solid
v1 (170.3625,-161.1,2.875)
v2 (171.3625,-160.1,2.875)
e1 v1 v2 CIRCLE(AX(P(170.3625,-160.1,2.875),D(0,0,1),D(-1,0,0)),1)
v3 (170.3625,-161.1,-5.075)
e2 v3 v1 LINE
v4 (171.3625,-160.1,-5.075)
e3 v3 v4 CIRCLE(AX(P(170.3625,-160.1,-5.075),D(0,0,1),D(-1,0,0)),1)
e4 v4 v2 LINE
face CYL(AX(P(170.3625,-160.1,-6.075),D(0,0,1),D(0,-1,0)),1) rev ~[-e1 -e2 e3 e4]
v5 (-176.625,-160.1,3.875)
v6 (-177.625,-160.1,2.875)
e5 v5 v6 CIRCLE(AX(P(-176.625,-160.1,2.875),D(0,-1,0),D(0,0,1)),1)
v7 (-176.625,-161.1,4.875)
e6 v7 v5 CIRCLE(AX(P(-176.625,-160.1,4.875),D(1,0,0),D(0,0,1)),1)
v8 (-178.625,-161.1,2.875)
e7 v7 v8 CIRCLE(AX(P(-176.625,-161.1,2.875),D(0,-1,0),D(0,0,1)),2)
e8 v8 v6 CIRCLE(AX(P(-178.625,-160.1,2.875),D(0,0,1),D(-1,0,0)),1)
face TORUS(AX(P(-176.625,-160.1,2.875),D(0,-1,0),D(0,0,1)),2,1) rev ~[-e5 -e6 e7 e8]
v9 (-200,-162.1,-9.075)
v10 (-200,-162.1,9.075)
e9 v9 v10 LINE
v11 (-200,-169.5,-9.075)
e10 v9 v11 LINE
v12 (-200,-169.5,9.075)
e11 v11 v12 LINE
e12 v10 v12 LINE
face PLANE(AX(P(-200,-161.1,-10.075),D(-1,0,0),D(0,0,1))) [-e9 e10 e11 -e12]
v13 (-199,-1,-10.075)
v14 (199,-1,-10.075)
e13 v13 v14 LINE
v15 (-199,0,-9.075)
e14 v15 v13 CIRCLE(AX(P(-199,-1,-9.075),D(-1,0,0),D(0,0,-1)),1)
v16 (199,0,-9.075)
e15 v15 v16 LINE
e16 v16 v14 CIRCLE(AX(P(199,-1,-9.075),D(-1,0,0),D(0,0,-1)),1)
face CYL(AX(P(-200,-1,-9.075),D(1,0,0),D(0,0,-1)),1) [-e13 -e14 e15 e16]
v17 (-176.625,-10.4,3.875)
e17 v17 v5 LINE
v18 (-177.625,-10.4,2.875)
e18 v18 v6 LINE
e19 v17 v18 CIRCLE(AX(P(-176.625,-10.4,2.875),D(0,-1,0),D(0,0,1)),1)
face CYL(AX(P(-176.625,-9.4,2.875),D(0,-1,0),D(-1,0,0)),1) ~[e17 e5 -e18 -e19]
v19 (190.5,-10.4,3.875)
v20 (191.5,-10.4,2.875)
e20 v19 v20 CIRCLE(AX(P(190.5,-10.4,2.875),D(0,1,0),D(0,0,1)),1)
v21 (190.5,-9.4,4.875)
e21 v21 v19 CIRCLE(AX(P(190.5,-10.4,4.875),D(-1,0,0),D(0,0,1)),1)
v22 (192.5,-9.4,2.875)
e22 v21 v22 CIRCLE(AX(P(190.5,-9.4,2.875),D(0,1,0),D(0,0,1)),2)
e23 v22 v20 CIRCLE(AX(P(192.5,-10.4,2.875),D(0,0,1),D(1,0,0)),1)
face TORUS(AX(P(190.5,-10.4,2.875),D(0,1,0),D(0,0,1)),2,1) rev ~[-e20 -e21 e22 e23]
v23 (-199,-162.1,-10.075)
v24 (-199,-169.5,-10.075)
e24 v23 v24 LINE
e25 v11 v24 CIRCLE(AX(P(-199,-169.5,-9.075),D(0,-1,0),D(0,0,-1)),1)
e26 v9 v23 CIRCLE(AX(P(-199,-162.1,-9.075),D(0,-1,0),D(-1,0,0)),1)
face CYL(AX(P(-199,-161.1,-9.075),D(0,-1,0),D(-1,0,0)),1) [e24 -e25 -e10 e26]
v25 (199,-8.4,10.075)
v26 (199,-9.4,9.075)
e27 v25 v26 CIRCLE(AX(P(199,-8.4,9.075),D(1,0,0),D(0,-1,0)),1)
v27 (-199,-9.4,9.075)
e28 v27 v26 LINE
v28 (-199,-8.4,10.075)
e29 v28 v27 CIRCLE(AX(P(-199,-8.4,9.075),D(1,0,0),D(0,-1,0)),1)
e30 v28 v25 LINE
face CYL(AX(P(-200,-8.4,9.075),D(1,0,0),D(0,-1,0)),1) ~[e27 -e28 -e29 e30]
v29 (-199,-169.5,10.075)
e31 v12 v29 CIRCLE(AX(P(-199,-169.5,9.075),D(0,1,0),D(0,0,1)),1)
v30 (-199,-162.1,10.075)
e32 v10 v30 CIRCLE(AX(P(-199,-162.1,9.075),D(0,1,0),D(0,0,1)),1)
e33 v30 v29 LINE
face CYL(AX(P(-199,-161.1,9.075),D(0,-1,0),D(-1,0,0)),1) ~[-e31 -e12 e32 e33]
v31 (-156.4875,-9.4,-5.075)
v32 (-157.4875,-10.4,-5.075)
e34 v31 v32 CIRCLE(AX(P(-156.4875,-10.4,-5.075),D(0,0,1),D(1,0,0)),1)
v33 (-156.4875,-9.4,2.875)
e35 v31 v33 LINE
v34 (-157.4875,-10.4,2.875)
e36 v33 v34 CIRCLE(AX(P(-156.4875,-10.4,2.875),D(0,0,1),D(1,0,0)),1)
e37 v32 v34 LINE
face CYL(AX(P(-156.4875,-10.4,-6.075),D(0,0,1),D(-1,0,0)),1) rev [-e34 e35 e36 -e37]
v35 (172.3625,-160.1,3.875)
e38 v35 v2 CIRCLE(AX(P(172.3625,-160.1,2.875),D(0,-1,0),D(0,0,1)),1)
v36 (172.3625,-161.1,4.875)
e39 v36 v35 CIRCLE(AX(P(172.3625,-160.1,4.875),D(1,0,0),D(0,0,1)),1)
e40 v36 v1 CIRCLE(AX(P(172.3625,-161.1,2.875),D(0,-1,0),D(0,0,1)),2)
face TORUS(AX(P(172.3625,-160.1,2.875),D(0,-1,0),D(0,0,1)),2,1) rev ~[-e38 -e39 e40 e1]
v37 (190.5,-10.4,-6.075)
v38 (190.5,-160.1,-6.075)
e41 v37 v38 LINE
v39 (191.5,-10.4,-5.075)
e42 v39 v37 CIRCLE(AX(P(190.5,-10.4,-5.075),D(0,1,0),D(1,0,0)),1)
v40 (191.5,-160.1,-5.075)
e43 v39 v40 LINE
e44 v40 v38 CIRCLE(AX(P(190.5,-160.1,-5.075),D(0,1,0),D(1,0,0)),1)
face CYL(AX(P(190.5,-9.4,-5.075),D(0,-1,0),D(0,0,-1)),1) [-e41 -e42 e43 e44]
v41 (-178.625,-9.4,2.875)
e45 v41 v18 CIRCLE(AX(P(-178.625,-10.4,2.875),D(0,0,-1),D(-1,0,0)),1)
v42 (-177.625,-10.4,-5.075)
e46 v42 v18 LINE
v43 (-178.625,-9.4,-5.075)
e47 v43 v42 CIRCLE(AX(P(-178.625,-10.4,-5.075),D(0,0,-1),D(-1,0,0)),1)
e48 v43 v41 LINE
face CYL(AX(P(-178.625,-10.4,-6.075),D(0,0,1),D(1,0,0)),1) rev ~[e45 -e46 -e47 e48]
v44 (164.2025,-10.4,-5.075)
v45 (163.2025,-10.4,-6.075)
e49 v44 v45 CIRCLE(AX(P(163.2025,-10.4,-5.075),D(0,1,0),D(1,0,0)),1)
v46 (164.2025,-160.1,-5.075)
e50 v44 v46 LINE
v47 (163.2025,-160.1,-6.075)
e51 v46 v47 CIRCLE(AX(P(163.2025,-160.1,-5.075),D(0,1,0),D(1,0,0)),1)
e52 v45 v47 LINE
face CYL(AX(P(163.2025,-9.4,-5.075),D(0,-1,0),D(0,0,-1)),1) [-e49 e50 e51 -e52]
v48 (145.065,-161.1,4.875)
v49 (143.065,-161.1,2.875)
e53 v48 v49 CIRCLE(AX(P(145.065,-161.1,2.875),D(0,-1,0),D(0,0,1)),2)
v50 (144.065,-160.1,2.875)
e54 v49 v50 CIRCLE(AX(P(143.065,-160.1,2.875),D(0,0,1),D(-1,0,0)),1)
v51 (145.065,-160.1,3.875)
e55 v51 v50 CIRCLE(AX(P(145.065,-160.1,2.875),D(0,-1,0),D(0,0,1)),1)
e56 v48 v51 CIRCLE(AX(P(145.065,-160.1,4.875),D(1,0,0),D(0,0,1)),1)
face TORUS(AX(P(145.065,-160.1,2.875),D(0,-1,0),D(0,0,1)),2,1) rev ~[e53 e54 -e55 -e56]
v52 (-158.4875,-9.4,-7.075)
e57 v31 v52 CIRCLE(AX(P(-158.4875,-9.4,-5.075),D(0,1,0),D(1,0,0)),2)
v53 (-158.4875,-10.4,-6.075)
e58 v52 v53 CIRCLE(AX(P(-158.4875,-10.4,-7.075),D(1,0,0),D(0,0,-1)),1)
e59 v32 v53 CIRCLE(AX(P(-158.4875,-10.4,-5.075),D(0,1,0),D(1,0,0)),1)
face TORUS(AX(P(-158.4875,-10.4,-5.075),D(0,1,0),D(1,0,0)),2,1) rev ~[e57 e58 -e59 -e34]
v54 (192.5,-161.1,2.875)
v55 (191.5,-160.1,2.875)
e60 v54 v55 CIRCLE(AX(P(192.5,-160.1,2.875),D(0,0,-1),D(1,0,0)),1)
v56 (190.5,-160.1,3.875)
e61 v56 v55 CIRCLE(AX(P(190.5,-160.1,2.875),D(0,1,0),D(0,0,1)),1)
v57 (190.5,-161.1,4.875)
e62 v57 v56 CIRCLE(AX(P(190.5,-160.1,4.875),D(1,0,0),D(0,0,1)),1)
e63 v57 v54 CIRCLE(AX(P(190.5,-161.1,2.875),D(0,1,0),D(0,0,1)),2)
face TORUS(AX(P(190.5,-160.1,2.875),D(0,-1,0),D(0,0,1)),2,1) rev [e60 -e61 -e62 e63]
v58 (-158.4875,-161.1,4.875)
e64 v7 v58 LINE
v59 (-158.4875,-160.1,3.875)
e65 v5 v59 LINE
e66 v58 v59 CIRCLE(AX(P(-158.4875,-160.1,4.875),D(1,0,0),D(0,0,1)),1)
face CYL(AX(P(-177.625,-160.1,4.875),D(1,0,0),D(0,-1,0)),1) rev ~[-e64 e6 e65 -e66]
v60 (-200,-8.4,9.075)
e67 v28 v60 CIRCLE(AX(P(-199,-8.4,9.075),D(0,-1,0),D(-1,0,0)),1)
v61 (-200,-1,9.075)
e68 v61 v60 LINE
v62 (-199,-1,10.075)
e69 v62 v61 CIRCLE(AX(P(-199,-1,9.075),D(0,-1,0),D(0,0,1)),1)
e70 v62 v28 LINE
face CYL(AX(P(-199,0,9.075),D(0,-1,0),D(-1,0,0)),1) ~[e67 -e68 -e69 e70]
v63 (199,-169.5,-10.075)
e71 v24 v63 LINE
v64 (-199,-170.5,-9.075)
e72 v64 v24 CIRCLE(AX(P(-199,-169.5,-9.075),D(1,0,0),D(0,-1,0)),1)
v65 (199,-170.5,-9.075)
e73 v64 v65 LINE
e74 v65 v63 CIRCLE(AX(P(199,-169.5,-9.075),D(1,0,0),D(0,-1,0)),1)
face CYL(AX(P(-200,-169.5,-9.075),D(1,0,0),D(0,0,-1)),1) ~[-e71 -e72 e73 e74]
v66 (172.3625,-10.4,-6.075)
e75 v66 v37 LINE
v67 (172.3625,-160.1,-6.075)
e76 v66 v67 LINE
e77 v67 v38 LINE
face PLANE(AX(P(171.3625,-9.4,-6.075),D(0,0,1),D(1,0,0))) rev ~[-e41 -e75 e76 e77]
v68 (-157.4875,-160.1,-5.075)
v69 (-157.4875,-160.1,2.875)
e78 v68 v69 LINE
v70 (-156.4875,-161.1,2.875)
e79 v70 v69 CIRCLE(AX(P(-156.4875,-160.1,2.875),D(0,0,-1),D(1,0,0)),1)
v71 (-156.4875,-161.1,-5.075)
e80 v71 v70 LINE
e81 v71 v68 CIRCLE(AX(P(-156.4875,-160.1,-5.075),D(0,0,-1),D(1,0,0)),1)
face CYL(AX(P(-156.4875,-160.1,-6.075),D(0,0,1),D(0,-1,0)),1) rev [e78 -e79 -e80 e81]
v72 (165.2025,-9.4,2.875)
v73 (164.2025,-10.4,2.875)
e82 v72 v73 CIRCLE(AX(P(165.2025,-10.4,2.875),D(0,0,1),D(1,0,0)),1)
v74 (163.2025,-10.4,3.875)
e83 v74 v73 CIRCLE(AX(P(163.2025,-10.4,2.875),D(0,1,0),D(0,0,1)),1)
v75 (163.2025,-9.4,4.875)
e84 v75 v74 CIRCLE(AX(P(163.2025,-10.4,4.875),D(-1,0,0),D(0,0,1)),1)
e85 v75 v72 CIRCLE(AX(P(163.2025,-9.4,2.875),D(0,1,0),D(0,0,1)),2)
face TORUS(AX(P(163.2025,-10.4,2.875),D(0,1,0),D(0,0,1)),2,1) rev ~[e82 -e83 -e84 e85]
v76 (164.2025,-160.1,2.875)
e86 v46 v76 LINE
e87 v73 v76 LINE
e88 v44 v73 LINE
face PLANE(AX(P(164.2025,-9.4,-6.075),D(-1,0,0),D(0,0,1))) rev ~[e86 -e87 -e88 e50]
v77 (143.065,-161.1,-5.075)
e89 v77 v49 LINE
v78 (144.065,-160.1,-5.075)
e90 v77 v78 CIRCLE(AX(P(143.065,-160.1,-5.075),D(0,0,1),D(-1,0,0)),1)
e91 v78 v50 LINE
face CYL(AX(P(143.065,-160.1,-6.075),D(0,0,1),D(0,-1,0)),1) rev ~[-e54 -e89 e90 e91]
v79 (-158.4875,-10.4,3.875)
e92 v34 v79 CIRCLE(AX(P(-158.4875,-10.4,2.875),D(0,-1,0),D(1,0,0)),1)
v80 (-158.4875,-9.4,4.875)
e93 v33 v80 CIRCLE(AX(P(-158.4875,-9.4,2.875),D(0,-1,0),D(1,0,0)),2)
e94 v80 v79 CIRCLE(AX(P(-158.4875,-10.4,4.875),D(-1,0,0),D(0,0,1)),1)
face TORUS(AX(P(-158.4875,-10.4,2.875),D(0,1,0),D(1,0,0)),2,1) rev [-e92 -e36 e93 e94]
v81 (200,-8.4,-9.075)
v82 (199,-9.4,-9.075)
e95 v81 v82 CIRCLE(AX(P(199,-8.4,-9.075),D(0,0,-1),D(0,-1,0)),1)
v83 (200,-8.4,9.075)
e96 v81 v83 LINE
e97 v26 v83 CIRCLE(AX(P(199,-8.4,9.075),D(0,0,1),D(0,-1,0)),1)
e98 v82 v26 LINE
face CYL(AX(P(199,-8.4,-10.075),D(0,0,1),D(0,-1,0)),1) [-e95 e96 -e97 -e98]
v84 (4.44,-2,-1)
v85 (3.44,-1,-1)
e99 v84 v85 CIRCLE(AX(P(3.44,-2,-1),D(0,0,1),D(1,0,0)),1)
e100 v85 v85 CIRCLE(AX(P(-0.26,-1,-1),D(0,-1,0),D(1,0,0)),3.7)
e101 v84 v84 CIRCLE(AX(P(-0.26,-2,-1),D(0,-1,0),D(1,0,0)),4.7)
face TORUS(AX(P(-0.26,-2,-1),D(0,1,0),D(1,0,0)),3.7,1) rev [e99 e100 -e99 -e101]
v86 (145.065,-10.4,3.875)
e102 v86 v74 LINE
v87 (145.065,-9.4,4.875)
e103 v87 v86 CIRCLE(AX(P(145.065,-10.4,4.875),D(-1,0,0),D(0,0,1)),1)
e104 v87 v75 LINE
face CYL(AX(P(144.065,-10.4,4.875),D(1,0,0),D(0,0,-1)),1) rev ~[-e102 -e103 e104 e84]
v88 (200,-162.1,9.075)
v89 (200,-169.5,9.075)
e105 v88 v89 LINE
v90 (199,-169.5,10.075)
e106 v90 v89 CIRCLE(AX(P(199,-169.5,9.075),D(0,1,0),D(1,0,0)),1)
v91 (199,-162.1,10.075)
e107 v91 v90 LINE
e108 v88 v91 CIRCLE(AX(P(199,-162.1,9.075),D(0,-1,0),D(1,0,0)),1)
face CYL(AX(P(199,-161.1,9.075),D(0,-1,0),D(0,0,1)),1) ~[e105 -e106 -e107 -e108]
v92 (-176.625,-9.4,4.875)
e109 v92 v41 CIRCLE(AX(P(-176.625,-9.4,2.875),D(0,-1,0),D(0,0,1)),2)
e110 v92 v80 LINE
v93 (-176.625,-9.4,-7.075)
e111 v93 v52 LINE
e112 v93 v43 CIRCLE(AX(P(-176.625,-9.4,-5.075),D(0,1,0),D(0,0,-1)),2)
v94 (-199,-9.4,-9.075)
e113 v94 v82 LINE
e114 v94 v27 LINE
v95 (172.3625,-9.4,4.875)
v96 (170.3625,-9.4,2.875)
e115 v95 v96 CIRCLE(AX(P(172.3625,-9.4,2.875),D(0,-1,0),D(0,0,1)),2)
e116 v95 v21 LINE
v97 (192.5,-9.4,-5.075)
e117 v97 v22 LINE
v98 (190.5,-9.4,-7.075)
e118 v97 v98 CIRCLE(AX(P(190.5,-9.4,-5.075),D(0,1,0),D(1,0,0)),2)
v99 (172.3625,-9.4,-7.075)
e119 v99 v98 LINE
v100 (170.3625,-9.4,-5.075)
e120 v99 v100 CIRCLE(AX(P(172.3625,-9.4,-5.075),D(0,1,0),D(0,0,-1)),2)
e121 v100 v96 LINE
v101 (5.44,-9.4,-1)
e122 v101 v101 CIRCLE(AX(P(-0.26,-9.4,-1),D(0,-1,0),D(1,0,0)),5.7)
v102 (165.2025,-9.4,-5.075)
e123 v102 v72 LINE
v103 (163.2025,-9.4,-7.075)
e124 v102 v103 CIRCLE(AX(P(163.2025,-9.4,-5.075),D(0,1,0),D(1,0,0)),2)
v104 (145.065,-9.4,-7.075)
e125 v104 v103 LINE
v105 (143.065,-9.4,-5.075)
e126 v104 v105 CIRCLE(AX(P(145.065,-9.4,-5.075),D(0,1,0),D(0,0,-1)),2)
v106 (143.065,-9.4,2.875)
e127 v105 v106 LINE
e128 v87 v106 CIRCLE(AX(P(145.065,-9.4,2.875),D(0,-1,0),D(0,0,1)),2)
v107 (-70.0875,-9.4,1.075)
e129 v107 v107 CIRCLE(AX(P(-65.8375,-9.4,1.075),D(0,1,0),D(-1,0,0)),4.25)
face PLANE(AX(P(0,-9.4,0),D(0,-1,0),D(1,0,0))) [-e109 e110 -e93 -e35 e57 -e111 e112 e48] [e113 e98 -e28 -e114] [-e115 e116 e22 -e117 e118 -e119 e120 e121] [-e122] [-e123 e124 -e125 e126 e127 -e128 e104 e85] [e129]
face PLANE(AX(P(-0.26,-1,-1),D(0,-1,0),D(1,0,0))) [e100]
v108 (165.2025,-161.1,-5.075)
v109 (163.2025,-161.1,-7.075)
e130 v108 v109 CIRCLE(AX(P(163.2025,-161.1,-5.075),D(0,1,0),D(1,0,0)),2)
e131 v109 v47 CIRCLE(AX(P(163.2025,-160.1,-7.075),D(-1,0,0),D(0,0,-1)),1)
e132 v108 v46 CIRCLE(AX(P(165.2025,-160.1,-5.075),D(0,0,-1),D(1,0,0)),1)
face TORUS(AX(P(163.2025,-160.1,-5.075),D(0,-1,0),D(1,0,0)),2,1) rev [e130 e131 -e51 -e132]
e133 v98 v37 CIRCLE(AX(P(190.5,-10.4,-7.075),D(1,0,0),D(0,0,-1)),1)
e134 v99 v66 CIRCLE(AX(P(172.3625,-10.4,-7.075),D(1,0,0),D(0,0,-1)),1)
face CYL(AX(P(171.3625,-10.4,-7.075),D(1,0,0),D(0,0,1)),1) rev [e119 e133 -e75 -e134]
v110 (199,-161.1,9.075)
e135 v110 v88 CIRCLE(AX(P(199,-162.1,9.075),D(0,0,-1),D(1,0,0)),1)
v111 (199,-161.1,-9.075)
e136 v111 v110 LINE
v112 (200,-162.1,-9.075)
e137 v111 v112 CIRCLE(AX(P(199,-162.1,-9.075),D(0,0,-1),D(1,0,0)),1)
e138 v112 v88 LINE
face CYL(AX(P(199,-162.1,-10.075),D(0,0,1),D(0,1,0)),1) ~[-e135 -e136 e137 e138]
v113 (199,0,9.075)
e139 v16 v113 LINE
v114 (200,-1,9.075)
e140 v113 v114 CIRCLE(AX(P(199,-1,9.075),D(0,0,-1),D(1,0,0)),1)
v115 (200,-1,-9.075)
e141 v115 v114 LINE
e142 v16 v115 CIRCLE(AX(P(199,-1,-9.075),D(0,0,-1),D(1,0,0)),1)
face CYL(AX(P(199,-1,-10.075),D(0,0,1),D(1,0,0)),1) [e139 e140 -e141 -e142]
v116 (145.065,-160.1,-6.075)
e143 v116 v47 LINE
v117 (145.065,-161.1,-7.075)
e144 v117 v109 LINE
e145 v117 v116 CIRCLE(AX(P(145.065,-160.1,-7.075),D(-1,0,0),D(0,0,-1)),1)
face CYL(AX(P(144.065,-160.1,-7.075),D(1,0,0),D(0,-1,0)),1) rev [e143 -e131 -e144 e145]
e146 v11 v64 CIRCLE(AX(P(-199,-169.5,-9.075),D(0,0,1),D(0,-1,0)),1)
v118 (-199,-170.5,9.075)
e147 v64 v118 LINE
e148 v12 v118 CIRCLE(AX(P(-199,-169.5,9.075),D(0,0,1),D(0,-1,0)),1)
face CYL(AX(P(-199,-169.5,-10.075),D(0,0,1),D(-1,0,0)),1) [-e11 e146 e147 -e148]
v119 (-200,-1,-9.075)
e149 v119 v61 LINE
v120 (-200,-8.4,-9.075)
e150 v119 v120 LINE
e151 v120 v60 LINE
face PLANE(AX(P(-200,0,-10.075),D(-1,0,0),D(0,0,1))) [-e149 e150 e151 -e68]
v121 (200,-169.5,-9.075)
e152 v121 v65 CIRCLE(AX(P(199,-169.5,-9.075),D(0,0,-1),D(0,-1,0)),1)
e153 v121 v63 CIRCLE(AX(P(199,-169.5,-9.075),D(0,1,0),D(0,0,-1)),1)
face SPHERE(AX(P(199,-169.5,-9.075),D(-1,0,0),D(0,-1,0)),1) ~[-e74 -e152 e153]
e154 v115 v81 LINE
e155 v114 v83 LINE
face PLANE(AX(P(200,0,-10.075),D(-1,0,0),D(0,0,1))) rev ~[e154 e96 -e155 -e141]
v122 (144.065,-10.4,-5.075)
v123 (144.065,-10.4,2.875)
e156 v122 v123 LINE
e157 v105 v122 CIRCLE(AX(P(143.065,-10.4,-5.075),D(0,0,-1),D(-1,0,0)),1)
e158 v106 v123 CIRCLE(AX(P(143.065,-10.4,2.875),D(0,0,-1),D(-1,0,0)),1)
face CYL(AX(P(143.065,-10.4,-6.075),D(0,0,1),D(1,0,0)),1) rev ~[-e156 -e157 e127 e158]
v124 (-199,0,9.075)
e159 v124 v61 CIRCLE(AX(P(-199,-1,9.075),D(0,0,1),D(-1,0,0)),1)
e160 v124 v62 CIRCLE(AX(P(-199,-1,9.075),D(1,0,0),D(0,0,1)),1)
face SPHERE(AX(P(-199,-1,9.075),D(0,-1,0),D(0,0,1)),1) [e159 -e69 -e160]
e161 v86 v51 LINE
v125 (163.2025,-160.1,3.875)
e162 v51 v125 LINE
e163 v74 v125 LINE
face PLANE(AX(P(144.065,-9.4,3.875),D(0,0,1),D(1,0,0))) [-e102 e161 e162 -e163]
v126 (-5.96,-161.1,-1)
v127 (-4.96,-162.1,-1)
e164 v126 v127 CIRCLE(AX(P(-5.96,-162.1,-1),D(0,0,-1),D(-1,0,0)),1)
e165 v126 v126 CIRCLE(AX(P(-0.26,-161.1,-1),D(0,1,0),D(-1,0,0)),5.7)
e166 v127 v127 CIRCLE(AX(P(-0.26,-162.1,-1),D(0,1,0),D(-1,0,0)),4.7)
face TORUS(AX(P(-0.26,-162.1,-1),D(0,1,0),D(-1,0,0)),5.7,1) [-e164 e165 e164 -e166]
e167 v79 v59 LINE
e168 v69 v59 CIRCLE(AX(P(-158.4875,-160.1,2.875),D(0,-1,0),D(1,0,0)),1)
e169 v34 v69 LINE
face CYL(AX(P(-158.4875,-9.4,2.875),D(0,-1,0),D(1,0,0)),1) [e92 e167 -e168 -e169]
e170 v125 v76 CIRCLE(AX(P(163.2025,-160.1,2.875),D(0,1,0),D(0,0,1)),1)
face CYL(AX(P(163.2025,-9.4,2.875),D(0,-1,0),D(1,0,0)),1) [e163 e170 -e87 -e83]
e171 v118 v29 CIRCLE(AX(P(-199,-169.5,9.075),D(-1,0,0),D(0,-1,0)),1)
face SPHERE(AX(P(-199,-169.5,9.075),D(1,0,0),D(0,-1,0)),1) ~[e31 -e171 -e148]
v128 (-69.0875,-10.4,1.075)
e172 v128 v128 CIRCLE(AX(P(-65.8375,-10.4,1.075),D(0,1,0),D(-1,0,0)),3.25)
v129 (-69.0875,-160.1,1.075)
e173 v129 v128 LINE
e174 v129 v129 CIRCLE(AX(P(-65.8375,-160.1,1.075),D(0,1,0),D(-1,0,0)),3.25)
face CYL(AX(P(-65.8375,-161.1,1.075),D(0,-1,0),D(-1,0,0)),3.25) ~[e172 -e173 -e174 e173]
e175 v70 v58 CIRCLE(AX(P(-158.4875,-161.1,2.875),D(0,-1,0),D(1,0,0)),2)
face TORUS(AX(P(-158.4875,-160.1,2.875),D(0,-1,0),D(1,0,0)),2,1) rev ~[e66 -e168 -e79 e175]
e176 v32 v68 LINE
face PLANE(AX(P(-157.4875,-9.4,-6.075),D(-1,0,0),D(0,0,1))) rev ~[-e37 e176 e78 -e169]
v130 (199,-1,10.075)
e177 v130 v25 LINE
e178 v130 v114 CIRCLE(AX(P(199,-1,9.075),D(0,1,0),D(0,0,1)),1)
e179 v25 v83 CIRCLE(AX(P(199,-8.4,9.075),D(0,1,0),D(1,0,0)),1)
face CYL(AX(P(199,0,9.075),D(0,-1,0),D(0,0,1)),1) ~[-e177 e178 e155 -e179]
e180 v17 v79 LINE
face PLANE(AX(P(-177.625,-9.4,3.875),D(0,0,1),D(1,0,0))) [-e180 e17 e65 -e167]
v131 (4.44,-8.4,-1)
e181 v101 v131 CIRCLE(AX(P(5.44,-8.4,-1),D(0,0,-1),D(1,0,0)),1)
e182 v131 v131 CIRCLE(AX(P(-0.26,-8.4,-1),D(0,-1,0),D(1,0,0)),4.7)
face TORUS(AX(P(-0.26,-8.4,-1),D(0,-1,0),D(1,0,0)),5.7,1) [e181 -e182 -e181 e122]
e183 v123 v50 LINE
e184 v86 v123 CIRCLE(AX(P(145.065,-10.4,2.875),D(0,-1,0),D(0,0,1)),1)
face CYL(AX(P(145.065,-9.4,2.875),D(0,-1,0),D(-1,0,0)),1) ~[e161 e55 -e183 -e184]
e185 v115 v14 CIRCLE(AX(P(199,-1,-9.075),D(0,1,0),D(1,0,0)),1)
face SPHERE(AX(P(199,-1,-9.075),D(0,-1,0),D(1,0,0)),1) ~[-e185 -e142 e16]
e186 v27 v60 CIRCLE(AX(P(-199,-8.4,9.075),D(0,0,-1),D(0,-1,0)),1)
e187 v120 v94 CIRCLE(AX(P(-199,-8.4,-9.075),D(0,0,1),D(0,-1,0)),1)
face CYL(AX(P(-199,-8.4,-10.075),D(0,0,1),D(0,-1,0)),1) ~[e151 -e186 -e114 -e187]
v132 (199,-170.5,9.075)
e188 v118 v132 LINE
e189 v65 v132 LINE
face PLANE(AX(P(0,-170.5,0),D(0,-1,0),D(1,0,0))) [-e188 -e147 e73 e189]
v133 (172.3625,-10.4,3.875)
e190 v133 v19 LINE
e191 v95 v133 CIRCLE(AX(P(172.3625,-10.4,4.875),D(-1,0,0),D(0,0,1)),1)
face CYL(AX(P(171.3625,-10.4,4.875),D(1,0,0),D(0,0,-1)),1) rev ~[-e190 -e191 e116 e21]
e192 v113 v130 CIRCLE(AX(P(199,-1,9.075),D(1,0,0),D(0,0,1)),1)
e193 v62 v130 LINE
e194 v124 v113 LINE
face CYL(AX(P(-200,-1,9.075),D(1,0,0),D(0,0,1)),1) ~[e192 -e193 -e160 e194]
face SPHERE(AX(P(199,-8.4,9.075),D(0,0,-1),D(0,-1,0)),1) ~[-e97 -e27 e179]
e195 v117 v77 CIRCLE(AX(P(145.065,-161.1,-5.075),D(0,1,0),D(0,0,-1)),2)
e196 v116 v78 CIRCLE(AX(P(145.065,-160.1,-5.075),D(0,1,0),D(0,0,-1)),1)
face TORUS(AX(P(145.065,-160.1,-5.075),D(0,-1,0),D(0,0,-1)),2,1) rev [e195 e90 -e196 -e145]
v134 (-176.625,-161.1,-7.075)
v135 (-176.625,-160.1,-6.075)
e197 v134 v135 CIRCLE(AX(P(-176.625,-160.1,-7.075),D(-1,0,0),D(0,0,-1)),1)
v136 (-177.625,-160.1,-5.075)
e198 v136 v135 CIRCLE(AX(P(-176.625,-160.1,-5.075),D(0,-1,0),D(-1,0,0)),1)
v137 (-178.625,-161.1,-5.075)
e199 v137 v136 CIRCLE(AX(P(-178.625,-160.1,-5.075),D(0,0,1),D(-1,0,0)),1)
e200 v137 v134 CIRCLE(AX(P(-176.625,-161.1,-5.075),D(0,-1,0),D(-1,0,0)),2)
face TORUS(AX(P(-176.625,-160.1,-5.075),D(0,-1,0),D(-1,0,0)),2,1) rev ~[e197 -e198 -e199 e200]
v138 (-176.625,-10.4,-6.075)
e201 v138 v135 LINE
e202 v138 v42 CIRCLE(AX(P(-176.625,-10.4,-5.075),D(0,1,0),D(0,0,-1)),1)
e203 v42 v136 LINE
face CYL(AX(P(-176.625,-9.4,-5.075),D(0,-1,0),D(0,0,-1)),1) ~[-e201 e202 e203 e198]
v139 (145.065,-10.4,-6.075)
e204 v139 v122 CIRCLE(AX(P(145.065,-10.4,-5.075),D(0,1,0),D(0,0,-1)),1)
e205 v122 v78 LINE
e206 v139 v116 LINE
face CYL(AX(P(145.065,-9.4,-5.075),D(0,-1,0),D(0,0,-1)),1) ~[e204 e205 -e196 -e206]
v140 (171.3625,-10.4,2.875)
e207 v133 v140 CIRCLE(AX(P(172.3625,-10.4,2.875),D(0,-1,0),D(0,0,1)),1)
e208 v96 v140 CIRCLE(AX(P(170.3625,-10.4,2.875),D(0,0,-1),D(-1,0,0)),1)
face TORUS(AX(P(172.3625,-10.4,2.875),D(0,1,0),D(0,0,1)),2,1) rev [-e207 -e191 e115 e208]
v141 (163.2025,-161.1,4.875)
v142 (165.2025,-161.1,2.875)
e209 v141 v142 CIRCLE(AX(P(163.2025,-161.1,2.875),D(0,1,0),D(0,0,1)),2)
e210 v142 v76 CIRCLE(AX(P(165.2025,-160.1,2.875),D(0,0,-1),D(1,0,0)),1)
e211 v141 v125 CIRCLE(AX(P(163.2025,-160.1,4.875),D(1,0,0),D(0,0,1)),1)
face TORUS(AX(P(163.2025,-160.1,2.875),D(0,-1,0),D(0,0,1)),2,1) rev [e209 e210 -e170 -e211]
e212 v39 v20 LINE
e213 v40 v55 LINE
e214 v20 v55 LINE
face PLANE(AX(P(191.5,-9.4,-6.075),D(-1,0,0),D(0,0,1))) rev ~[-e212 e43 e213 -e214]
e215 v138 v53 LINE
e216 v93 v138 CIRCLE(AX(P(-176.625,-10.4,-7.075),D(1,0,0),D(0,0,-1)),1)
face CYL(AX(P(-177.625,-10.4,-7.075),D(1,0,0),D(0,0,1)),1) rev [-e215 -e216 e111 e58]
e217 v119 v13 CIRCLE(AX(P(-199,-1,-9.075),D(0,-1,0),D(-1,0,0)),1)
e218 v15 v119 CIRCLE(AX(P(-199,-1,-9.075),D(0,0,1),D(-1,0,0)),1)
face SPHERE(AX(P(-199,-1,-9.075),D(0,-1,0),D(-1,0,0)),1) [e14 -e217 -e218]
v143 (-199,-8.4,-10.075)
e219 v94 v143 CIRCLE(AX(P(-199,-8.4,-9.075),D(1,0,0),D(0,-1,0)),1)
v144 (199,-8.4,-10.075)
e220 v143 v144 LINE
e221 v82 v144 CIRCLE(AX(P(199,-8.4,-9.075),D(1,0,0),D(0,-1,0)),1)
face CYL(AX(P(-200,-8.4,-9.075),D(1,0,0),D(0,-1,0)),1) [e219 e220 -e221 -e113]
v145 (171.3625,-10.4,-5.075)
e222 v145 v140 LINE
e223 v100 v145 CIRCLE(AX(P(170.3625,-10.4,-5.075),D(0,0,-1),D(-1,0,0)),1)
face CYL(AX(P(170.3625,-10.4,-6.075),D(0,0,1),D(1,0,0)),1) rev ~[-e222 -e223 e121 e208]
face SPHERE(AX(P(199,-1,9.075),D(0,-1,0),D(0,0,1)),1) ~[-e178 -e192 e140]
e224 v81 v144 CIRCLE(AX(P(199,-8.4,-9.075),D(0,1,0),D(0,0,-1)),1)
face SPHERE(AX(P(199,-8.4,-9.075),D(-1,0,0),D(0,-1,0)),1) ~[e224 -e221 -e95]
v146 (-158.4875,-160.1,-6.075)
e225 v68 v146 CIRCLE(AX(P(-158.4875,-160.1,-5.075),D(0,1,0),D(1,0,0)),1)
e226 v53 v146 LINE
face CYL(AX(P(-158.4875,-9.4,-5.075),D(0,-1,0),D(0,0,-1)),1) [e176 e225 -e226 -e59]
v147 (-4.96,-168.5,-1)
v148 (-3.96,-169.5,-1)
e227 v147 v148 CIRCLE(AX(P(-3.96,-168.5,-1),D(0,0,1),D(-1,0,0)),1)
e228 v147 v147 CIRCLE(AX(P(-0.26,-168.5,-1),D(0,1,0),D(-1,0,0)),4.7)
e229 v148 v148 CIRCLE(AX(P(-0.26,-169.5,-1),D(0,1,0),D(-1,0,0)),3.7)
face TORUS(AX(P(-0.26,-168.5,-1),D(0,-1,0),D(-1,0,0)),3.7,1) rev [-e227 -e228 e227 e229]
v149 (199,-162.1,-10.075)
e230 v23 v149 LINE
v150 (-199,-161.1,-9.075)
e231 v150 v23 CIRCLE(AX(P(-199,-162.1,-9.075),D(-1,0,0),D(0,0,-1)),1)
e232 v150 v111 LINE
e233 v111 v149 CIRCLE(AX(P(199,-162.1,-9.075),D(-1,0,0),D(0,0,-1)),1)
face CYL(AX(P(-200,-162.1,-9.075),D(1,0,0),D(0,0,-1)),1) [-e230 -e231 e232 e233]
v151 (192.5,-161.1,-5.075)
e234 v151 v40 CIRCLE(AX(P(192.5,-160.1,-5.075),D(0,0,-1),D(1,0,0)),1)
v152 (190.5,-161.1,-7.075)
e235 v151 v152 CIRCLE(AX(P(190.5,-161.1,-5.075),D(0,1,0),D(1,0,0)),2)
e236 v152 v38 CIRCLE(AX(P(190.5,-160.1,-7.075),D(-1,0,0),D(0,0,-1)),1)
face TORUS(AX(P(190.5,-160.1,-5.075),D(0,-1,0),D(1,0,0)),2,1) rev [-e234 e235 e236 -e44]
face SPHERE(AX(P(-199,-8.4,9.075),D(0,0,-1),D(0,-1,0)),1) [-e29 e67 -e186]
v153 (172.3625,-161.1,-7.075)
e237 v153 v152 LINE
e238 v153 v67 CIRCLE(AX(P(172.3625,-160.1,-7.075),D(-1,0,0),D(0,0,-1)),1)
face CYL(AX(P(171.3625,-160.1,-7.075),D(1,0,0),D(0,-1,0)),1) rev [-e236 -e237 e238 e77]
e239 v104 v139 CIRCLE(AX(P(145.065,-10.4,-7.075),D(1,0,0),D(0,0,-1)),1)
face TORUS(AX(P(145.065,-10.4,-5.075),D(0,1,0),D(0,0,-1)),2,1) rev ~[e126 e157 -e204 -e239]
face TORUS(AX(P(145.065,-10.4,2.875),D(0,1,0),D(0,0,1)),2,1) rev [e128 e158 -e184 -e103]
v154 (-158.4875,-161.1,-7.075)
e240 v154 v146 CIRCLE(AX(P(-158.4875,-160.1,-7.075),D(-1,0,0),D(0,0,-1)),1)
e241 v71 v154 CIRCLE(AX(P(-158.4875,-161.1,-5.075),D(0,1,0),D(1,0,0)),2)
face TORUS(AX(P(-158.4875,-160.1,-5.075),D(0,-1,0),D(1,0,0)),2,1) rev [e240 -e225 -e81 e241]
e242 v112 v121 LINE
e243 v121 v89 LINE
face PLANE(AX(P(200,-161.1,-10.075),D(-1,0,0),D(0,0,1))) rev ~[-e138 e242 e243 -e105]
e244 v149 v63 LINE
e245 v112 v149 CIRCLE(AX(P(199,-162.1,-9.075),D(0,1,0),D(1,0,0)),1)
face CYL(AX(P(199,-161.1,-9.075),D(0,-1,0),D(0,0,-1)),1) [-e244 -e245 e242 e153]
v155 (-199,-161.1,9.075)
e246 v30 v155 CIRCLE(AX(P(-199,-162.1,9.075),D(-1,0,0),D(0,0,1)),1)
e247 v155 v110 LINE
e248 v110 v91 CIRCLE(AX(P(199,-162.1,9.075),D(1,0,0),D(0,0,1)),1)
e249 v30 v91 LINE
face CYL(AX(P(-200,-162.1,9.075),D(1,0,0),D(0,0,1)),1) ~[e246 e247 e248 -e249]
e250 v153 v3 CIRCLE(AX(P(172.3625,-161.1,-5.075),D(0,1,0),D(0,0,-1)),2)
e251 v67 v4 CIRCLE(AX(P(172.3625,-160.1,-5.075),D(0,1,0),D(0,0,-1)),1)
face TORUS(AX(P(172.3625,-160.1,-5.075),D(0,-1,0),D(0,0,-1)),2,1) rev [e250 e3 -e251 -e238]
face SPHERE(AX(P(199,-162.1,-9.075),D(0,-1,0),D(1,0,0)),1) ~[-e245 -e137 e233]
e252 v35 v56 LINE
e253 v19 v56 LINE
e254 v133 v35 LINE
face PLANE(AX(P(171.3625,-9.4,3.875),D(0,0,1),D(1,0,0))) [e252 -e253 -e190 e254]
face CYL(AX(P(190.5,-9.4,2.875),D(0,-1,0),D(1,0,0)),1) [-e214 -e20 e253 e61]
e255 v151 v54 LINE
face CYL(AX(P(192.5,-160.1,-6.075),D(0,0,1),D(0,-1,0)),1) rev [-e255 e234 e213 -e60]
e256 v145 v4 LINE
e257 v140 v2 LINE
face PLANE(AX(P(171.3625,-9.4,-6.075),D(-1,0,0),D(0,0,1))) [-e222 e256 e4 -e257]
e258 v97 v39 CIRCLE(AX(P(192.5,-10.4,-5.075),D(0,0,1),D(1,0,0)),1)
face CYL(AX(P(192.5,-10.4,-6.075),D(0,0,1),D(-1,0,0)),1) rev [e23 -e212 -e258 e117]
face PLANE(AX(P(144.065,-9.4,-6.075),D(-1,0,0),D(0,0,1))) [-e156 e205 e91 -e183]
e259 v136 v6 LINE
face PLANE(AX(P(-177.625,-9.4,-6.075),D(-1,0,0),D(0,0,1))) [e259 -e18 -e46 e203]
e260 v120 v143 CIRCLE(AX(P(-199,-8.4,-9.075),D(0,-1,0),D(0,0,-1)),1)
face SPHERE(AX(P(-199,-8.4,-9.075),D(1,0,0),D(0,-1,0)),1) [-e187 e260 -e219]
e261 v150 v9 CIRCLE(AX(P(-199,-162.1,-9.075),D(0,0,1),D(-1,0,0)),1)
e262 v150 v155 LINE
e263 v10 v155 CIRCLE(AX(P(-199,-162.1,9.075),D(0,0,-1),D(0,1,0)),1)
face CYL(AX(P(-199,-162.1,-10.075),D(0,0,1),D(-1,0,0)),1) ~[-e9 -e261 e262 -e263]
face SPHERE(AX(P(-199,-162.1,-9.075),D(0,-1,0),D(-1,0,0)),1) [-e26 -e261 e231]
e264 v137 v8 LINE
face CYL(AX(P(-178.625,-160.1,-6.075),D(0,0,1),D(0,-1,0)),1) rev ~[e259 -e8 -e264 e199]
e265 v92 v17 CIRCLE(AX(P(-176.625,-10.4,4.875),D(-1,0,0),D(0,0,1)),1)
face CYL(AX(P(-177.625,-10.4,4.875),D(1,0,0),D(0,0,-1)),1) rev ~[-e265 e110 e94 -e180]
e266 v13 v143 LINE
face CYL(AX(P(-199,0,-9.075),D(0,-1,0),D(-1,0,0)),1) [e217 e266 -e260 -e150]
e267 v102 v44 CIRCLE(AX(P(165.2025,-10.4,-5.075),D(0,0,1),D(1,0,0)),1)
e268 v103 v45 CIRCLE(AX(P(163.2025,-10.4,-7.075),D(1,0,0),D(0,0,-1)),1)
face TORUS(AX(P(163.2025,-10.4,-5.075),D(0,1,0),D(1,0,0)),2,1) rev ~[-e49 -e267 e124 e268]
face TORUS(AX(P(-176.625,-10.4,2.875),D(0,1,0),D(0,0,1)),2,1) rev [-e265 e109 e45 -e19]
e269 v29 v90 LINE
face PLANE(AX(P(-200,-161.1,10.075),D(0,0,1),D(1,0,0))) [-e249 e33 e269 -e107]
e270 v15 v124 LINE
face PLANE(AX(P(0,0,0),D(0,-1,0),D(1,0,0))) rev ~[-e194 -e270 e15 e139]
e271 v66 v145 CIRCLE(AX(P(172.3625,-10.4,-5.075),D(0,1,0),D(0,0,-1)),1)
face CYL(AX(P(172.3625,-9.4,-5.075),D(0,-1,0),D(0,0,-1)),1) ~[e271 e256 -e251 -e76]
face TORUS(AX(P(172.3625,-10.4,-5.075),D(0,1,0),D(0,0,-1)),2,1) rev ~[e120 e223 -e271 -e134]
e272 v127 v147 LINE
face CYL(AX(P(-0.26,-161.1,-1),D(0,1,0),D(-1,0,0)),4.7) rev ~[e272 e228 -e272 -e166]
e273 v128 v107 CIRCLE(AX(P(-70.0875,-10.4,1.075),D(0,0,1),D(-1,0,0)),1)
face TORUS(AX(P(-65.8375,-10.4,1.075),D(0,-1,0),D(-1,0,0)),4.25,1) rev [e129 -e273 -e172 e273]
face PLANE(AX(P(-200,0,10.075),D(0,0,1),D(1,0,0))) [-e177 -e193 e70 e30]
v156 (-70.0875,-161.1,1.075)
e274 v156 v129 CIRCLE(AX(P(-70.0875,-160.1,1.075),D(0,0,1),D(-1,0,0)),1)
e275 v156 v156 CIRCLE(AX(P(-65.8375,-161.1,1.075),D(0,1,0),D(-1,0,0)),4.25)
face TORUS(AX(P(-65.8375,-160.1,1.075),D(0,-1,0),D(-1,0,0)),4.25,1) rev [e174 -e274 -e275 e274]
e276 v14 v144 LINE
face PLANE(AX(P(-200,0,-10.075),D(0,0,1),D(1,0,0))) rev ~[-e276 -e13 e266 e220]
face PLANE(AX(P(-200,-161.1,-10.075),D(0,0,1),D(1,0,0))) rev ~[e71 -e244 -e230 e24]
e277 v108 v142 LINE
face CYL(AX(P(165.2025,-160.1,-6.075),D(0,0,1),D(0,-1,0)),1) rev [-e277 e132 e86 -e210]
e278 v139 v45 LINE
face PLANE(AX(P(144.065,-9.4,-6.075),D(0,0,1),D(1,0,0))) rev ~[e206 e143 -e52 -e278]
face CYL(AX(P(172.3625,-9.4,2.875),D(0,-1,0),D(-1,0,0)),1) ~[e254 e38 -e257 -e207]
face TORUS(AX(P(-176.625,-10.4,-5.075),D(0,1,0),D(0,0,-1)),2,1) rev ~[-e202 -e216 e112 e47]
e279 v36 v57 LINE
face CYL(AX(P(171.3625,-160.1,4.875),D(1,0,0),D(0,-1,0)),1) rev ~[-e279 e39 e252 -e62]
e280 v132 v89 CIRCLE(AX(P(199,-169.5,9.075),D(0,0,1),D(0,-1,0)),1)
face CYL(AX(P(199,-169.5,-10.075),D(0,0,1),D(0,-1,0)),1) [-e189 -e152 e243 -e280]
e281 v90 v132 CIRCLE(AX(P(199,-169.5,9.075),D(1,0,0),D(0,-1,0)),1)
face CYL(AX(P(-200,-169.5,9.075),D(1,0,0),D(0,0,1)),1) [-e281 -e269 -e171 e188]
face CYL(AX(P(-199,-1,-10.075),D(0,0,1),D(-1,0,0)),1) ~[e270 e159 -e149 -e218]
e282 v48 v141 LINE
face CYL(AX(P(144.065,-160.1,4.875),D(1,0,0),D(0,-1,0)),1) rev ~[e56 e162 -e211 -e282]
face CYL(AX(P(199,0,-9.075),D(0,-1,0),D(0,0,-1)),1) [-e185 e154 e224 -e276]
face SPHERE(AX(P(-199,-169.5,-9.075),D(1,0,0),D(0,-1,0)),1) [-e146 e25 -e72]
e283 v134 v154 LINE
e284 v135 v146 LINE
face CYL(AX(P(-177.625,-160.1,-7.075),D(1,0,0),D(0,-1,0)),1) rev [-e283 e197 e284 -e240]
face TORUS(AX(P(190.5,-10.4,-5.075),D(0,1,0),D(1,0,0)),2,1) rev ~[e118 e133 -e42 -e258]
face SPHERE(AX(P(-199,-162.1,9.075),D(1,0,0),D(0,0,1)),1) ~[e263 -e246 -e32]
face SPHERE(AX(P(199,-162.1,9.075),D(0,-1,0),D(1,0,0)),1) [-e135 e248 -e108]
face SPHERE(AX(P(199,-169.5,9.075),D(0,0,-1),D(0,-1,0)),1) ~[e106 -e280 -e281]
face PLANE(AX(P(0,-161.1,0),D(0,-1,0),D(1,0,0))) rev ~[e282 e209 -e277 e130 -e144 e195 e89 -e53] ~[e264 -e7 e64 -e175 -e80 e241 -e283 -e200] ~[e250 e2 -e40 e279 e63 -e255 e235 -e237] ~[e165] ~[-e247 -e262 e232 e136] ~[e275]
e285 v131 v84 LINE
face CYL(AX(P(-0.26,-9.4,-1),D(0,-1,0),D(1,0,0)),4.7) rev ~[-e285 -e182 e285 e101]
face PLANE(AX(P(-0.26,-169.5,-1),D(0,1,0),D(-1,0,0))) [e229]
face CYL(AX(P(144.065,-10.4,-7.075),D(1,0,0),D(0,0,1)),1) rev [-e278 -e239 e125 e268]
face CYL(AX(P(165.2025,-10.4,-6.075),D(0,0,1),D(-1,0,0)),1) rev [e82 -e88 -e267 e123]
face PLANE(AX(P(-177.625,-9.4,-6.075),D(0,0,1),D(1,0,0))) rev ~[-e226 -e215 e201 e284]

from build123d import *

# Parameters (mm, degrees)
F0_W      = 400
F0_H      = 20.15
F1_DEPTH  = 9.4
F2_W      = 20.1375
F2_H      = 9.95
F3_DEPTH  = 151.7
F4_W      = 400
F4_H      = 20.15
F5_DEPTH  = 9.4
F6_R      = 4.7
F7_DEPTH  = 8.4
F8_R      = 4.7
F9_DEPTH  = 8.4
F10_R     = 3.25
F11_DEPTH = 151.7
F12_R     = 1


with BuildPart() as f1:
    # F0 (on Front) → F1 (new body)
    with BuildSketch(Plane.XZ):
        Rectangle(F0_W, F0_H)
    extrude(amount=F1_DEPTH)

    # F2 (on face) → F3 (join)
    with BuildSketch(Plane.XZ.offset(9.4)):
        with Locations((-167.55625, -1.1)):
            Rectangle(F2_W, F2_H)
        with Locations((154.13375, -1.1)):
            Rectangle(F2_W, F2_H)
        with Locations((181.43125, -1.1)):
            Rectangle(F2_W, F2_H)
    extrude(amount=F3_DEPTH)

    # F4 (on face) → F5 (join)
    with BuildSketch(Plane.XZ.offset(161.1)):
        Rectangle(F4_W, F4_H)
    extrude(amount=F5_DEPTH)

    # F6 (on face) → F7 (cut)
    with BuildSketch(Plane(origin=(0, -161.1, 0), x_dir=(-1, 0, 0), z_dir=(0, 1, 0))):
        with Locations((0.26, -1)):
            Circle(F6_R)
    extrude(amount=-F7_DEPTH, mode=Mode.SUBTRACT)

    # F8 (on face) → F9 (cut)
    with BuildSketch(Plane.XZ.offset(9.4)):
        with Locations((-0.26, -1)):
            Circle(F8_R)
    extrude(amount=-F9_DEPTH, mode=Mode.SUBTRACT)

    # F10 (on face) → F11 (join, through all)
    with BuildSketch(Plane(origin=(0, -161.1, 0), x_dir=(-1, 0, 0), z_dir=(0, 1, 0))):
        with Locations((65.8375, 1.075)):
            Circle(F10_R)
    extrude(amount=F11_DEPTH)

    # F12
    f12_edges = [f1.edges().sort_by_distance(p)[0] for p in [
        (0, -170.5, -10.075),
        (200, -170.5, 0),
        (0, -170.5, 10.075),
        (-200, -170.5, 0),
        (191.5, -85.25, 3.875),
        (171.3625, -85.25, 3.875),
        (181.43125, -9.4, 3.875),
        (181.43125, -161.1, 3.875),
        (164.2025, -85.25, 3.875),
        (144.065, -85.25, 3.875),
        (154.13375, -9.4, 3.875),
        (154.13375, -161.1, 3.875),
        (0, -9.4, -10.075),
        (-200, -9.4, 0),
        (200, -9.4, 0),
        (0, -9.4, 10.075),
        (-157.4875, -9.4, -1.1),
        (-167.55625, -9.4, -6.075),
        (-167.55625, -9.4, 3.875),
        (-177.625, -9.4, -1.1),
        (-4.96, -9.4, -1),
        (164.2025, -9.4, -1.1),
        (154.13375, -9.4, -6.075),
        (144.065, -9.4, -1.1),
        (191.5, -9.4, -1.1),
        (181.43125, -9.4, -6.075),
        (171.3625, -9.4, -1.1),
        (-62.5875, -9.4, 1.075),
        (200, -165.8, -10.075),
        (200, -165.8, 10.075),
        (200, -161.1, 0),
        (0, -161.1, 10.075),
        (200, -4.7, 10.075),
        (-200, -4.7, 10.075),
        (0, 0, 10.075),
        (200, -4.7, -10.075),
        (200, 0, 0),
        (-157.4875, -85.25, -6.075),
        (-157.4875, -85.25, 3.875),
        (-157.4875, -161.1, -1.1),
        (-177.625, -85.25, 3.875),
        (-167.55625, -161.1, 3.875),
        (-200, -165.8, 10.075),
        (-200, -165.8, -10.075),
        (-200, -161.1, 0),
        (0, -161.1, -10.075),
        (-177.625, -85.25, -6.075),
        (-177.625, -161.1, -1.1),
        (-167.55625, -161.1, -6.075),
        (4.44, -161.1, -1),
        (164.2025, -161.1, -1.1),
        (154.13375, -161.1, -6.075),
        (144.065, -161.1, -1.1),
        (191.5, -161.1, -1.1),
        (181.43125, -161.1, -6.075),
        (171.3625, -161.1, -1.1),
        (-62.5875, -161.1, 1.075),
        (-200, -4.7, -10.075),
        (-200, 0, 0),
        (0, 0, -10.075),
        (171.3625, -85.25, -6.075),
        (191.5, -85.25, -6.075),
        (144.065, -85.25, -6.075),
        (164.2025, -85.25, -6.075),
        (4.44, -169.5, -1),
        (-4.96, -1, -1),
    ]]
    fillet(f12_edges, radius=F12_R)


solid = f1.part
